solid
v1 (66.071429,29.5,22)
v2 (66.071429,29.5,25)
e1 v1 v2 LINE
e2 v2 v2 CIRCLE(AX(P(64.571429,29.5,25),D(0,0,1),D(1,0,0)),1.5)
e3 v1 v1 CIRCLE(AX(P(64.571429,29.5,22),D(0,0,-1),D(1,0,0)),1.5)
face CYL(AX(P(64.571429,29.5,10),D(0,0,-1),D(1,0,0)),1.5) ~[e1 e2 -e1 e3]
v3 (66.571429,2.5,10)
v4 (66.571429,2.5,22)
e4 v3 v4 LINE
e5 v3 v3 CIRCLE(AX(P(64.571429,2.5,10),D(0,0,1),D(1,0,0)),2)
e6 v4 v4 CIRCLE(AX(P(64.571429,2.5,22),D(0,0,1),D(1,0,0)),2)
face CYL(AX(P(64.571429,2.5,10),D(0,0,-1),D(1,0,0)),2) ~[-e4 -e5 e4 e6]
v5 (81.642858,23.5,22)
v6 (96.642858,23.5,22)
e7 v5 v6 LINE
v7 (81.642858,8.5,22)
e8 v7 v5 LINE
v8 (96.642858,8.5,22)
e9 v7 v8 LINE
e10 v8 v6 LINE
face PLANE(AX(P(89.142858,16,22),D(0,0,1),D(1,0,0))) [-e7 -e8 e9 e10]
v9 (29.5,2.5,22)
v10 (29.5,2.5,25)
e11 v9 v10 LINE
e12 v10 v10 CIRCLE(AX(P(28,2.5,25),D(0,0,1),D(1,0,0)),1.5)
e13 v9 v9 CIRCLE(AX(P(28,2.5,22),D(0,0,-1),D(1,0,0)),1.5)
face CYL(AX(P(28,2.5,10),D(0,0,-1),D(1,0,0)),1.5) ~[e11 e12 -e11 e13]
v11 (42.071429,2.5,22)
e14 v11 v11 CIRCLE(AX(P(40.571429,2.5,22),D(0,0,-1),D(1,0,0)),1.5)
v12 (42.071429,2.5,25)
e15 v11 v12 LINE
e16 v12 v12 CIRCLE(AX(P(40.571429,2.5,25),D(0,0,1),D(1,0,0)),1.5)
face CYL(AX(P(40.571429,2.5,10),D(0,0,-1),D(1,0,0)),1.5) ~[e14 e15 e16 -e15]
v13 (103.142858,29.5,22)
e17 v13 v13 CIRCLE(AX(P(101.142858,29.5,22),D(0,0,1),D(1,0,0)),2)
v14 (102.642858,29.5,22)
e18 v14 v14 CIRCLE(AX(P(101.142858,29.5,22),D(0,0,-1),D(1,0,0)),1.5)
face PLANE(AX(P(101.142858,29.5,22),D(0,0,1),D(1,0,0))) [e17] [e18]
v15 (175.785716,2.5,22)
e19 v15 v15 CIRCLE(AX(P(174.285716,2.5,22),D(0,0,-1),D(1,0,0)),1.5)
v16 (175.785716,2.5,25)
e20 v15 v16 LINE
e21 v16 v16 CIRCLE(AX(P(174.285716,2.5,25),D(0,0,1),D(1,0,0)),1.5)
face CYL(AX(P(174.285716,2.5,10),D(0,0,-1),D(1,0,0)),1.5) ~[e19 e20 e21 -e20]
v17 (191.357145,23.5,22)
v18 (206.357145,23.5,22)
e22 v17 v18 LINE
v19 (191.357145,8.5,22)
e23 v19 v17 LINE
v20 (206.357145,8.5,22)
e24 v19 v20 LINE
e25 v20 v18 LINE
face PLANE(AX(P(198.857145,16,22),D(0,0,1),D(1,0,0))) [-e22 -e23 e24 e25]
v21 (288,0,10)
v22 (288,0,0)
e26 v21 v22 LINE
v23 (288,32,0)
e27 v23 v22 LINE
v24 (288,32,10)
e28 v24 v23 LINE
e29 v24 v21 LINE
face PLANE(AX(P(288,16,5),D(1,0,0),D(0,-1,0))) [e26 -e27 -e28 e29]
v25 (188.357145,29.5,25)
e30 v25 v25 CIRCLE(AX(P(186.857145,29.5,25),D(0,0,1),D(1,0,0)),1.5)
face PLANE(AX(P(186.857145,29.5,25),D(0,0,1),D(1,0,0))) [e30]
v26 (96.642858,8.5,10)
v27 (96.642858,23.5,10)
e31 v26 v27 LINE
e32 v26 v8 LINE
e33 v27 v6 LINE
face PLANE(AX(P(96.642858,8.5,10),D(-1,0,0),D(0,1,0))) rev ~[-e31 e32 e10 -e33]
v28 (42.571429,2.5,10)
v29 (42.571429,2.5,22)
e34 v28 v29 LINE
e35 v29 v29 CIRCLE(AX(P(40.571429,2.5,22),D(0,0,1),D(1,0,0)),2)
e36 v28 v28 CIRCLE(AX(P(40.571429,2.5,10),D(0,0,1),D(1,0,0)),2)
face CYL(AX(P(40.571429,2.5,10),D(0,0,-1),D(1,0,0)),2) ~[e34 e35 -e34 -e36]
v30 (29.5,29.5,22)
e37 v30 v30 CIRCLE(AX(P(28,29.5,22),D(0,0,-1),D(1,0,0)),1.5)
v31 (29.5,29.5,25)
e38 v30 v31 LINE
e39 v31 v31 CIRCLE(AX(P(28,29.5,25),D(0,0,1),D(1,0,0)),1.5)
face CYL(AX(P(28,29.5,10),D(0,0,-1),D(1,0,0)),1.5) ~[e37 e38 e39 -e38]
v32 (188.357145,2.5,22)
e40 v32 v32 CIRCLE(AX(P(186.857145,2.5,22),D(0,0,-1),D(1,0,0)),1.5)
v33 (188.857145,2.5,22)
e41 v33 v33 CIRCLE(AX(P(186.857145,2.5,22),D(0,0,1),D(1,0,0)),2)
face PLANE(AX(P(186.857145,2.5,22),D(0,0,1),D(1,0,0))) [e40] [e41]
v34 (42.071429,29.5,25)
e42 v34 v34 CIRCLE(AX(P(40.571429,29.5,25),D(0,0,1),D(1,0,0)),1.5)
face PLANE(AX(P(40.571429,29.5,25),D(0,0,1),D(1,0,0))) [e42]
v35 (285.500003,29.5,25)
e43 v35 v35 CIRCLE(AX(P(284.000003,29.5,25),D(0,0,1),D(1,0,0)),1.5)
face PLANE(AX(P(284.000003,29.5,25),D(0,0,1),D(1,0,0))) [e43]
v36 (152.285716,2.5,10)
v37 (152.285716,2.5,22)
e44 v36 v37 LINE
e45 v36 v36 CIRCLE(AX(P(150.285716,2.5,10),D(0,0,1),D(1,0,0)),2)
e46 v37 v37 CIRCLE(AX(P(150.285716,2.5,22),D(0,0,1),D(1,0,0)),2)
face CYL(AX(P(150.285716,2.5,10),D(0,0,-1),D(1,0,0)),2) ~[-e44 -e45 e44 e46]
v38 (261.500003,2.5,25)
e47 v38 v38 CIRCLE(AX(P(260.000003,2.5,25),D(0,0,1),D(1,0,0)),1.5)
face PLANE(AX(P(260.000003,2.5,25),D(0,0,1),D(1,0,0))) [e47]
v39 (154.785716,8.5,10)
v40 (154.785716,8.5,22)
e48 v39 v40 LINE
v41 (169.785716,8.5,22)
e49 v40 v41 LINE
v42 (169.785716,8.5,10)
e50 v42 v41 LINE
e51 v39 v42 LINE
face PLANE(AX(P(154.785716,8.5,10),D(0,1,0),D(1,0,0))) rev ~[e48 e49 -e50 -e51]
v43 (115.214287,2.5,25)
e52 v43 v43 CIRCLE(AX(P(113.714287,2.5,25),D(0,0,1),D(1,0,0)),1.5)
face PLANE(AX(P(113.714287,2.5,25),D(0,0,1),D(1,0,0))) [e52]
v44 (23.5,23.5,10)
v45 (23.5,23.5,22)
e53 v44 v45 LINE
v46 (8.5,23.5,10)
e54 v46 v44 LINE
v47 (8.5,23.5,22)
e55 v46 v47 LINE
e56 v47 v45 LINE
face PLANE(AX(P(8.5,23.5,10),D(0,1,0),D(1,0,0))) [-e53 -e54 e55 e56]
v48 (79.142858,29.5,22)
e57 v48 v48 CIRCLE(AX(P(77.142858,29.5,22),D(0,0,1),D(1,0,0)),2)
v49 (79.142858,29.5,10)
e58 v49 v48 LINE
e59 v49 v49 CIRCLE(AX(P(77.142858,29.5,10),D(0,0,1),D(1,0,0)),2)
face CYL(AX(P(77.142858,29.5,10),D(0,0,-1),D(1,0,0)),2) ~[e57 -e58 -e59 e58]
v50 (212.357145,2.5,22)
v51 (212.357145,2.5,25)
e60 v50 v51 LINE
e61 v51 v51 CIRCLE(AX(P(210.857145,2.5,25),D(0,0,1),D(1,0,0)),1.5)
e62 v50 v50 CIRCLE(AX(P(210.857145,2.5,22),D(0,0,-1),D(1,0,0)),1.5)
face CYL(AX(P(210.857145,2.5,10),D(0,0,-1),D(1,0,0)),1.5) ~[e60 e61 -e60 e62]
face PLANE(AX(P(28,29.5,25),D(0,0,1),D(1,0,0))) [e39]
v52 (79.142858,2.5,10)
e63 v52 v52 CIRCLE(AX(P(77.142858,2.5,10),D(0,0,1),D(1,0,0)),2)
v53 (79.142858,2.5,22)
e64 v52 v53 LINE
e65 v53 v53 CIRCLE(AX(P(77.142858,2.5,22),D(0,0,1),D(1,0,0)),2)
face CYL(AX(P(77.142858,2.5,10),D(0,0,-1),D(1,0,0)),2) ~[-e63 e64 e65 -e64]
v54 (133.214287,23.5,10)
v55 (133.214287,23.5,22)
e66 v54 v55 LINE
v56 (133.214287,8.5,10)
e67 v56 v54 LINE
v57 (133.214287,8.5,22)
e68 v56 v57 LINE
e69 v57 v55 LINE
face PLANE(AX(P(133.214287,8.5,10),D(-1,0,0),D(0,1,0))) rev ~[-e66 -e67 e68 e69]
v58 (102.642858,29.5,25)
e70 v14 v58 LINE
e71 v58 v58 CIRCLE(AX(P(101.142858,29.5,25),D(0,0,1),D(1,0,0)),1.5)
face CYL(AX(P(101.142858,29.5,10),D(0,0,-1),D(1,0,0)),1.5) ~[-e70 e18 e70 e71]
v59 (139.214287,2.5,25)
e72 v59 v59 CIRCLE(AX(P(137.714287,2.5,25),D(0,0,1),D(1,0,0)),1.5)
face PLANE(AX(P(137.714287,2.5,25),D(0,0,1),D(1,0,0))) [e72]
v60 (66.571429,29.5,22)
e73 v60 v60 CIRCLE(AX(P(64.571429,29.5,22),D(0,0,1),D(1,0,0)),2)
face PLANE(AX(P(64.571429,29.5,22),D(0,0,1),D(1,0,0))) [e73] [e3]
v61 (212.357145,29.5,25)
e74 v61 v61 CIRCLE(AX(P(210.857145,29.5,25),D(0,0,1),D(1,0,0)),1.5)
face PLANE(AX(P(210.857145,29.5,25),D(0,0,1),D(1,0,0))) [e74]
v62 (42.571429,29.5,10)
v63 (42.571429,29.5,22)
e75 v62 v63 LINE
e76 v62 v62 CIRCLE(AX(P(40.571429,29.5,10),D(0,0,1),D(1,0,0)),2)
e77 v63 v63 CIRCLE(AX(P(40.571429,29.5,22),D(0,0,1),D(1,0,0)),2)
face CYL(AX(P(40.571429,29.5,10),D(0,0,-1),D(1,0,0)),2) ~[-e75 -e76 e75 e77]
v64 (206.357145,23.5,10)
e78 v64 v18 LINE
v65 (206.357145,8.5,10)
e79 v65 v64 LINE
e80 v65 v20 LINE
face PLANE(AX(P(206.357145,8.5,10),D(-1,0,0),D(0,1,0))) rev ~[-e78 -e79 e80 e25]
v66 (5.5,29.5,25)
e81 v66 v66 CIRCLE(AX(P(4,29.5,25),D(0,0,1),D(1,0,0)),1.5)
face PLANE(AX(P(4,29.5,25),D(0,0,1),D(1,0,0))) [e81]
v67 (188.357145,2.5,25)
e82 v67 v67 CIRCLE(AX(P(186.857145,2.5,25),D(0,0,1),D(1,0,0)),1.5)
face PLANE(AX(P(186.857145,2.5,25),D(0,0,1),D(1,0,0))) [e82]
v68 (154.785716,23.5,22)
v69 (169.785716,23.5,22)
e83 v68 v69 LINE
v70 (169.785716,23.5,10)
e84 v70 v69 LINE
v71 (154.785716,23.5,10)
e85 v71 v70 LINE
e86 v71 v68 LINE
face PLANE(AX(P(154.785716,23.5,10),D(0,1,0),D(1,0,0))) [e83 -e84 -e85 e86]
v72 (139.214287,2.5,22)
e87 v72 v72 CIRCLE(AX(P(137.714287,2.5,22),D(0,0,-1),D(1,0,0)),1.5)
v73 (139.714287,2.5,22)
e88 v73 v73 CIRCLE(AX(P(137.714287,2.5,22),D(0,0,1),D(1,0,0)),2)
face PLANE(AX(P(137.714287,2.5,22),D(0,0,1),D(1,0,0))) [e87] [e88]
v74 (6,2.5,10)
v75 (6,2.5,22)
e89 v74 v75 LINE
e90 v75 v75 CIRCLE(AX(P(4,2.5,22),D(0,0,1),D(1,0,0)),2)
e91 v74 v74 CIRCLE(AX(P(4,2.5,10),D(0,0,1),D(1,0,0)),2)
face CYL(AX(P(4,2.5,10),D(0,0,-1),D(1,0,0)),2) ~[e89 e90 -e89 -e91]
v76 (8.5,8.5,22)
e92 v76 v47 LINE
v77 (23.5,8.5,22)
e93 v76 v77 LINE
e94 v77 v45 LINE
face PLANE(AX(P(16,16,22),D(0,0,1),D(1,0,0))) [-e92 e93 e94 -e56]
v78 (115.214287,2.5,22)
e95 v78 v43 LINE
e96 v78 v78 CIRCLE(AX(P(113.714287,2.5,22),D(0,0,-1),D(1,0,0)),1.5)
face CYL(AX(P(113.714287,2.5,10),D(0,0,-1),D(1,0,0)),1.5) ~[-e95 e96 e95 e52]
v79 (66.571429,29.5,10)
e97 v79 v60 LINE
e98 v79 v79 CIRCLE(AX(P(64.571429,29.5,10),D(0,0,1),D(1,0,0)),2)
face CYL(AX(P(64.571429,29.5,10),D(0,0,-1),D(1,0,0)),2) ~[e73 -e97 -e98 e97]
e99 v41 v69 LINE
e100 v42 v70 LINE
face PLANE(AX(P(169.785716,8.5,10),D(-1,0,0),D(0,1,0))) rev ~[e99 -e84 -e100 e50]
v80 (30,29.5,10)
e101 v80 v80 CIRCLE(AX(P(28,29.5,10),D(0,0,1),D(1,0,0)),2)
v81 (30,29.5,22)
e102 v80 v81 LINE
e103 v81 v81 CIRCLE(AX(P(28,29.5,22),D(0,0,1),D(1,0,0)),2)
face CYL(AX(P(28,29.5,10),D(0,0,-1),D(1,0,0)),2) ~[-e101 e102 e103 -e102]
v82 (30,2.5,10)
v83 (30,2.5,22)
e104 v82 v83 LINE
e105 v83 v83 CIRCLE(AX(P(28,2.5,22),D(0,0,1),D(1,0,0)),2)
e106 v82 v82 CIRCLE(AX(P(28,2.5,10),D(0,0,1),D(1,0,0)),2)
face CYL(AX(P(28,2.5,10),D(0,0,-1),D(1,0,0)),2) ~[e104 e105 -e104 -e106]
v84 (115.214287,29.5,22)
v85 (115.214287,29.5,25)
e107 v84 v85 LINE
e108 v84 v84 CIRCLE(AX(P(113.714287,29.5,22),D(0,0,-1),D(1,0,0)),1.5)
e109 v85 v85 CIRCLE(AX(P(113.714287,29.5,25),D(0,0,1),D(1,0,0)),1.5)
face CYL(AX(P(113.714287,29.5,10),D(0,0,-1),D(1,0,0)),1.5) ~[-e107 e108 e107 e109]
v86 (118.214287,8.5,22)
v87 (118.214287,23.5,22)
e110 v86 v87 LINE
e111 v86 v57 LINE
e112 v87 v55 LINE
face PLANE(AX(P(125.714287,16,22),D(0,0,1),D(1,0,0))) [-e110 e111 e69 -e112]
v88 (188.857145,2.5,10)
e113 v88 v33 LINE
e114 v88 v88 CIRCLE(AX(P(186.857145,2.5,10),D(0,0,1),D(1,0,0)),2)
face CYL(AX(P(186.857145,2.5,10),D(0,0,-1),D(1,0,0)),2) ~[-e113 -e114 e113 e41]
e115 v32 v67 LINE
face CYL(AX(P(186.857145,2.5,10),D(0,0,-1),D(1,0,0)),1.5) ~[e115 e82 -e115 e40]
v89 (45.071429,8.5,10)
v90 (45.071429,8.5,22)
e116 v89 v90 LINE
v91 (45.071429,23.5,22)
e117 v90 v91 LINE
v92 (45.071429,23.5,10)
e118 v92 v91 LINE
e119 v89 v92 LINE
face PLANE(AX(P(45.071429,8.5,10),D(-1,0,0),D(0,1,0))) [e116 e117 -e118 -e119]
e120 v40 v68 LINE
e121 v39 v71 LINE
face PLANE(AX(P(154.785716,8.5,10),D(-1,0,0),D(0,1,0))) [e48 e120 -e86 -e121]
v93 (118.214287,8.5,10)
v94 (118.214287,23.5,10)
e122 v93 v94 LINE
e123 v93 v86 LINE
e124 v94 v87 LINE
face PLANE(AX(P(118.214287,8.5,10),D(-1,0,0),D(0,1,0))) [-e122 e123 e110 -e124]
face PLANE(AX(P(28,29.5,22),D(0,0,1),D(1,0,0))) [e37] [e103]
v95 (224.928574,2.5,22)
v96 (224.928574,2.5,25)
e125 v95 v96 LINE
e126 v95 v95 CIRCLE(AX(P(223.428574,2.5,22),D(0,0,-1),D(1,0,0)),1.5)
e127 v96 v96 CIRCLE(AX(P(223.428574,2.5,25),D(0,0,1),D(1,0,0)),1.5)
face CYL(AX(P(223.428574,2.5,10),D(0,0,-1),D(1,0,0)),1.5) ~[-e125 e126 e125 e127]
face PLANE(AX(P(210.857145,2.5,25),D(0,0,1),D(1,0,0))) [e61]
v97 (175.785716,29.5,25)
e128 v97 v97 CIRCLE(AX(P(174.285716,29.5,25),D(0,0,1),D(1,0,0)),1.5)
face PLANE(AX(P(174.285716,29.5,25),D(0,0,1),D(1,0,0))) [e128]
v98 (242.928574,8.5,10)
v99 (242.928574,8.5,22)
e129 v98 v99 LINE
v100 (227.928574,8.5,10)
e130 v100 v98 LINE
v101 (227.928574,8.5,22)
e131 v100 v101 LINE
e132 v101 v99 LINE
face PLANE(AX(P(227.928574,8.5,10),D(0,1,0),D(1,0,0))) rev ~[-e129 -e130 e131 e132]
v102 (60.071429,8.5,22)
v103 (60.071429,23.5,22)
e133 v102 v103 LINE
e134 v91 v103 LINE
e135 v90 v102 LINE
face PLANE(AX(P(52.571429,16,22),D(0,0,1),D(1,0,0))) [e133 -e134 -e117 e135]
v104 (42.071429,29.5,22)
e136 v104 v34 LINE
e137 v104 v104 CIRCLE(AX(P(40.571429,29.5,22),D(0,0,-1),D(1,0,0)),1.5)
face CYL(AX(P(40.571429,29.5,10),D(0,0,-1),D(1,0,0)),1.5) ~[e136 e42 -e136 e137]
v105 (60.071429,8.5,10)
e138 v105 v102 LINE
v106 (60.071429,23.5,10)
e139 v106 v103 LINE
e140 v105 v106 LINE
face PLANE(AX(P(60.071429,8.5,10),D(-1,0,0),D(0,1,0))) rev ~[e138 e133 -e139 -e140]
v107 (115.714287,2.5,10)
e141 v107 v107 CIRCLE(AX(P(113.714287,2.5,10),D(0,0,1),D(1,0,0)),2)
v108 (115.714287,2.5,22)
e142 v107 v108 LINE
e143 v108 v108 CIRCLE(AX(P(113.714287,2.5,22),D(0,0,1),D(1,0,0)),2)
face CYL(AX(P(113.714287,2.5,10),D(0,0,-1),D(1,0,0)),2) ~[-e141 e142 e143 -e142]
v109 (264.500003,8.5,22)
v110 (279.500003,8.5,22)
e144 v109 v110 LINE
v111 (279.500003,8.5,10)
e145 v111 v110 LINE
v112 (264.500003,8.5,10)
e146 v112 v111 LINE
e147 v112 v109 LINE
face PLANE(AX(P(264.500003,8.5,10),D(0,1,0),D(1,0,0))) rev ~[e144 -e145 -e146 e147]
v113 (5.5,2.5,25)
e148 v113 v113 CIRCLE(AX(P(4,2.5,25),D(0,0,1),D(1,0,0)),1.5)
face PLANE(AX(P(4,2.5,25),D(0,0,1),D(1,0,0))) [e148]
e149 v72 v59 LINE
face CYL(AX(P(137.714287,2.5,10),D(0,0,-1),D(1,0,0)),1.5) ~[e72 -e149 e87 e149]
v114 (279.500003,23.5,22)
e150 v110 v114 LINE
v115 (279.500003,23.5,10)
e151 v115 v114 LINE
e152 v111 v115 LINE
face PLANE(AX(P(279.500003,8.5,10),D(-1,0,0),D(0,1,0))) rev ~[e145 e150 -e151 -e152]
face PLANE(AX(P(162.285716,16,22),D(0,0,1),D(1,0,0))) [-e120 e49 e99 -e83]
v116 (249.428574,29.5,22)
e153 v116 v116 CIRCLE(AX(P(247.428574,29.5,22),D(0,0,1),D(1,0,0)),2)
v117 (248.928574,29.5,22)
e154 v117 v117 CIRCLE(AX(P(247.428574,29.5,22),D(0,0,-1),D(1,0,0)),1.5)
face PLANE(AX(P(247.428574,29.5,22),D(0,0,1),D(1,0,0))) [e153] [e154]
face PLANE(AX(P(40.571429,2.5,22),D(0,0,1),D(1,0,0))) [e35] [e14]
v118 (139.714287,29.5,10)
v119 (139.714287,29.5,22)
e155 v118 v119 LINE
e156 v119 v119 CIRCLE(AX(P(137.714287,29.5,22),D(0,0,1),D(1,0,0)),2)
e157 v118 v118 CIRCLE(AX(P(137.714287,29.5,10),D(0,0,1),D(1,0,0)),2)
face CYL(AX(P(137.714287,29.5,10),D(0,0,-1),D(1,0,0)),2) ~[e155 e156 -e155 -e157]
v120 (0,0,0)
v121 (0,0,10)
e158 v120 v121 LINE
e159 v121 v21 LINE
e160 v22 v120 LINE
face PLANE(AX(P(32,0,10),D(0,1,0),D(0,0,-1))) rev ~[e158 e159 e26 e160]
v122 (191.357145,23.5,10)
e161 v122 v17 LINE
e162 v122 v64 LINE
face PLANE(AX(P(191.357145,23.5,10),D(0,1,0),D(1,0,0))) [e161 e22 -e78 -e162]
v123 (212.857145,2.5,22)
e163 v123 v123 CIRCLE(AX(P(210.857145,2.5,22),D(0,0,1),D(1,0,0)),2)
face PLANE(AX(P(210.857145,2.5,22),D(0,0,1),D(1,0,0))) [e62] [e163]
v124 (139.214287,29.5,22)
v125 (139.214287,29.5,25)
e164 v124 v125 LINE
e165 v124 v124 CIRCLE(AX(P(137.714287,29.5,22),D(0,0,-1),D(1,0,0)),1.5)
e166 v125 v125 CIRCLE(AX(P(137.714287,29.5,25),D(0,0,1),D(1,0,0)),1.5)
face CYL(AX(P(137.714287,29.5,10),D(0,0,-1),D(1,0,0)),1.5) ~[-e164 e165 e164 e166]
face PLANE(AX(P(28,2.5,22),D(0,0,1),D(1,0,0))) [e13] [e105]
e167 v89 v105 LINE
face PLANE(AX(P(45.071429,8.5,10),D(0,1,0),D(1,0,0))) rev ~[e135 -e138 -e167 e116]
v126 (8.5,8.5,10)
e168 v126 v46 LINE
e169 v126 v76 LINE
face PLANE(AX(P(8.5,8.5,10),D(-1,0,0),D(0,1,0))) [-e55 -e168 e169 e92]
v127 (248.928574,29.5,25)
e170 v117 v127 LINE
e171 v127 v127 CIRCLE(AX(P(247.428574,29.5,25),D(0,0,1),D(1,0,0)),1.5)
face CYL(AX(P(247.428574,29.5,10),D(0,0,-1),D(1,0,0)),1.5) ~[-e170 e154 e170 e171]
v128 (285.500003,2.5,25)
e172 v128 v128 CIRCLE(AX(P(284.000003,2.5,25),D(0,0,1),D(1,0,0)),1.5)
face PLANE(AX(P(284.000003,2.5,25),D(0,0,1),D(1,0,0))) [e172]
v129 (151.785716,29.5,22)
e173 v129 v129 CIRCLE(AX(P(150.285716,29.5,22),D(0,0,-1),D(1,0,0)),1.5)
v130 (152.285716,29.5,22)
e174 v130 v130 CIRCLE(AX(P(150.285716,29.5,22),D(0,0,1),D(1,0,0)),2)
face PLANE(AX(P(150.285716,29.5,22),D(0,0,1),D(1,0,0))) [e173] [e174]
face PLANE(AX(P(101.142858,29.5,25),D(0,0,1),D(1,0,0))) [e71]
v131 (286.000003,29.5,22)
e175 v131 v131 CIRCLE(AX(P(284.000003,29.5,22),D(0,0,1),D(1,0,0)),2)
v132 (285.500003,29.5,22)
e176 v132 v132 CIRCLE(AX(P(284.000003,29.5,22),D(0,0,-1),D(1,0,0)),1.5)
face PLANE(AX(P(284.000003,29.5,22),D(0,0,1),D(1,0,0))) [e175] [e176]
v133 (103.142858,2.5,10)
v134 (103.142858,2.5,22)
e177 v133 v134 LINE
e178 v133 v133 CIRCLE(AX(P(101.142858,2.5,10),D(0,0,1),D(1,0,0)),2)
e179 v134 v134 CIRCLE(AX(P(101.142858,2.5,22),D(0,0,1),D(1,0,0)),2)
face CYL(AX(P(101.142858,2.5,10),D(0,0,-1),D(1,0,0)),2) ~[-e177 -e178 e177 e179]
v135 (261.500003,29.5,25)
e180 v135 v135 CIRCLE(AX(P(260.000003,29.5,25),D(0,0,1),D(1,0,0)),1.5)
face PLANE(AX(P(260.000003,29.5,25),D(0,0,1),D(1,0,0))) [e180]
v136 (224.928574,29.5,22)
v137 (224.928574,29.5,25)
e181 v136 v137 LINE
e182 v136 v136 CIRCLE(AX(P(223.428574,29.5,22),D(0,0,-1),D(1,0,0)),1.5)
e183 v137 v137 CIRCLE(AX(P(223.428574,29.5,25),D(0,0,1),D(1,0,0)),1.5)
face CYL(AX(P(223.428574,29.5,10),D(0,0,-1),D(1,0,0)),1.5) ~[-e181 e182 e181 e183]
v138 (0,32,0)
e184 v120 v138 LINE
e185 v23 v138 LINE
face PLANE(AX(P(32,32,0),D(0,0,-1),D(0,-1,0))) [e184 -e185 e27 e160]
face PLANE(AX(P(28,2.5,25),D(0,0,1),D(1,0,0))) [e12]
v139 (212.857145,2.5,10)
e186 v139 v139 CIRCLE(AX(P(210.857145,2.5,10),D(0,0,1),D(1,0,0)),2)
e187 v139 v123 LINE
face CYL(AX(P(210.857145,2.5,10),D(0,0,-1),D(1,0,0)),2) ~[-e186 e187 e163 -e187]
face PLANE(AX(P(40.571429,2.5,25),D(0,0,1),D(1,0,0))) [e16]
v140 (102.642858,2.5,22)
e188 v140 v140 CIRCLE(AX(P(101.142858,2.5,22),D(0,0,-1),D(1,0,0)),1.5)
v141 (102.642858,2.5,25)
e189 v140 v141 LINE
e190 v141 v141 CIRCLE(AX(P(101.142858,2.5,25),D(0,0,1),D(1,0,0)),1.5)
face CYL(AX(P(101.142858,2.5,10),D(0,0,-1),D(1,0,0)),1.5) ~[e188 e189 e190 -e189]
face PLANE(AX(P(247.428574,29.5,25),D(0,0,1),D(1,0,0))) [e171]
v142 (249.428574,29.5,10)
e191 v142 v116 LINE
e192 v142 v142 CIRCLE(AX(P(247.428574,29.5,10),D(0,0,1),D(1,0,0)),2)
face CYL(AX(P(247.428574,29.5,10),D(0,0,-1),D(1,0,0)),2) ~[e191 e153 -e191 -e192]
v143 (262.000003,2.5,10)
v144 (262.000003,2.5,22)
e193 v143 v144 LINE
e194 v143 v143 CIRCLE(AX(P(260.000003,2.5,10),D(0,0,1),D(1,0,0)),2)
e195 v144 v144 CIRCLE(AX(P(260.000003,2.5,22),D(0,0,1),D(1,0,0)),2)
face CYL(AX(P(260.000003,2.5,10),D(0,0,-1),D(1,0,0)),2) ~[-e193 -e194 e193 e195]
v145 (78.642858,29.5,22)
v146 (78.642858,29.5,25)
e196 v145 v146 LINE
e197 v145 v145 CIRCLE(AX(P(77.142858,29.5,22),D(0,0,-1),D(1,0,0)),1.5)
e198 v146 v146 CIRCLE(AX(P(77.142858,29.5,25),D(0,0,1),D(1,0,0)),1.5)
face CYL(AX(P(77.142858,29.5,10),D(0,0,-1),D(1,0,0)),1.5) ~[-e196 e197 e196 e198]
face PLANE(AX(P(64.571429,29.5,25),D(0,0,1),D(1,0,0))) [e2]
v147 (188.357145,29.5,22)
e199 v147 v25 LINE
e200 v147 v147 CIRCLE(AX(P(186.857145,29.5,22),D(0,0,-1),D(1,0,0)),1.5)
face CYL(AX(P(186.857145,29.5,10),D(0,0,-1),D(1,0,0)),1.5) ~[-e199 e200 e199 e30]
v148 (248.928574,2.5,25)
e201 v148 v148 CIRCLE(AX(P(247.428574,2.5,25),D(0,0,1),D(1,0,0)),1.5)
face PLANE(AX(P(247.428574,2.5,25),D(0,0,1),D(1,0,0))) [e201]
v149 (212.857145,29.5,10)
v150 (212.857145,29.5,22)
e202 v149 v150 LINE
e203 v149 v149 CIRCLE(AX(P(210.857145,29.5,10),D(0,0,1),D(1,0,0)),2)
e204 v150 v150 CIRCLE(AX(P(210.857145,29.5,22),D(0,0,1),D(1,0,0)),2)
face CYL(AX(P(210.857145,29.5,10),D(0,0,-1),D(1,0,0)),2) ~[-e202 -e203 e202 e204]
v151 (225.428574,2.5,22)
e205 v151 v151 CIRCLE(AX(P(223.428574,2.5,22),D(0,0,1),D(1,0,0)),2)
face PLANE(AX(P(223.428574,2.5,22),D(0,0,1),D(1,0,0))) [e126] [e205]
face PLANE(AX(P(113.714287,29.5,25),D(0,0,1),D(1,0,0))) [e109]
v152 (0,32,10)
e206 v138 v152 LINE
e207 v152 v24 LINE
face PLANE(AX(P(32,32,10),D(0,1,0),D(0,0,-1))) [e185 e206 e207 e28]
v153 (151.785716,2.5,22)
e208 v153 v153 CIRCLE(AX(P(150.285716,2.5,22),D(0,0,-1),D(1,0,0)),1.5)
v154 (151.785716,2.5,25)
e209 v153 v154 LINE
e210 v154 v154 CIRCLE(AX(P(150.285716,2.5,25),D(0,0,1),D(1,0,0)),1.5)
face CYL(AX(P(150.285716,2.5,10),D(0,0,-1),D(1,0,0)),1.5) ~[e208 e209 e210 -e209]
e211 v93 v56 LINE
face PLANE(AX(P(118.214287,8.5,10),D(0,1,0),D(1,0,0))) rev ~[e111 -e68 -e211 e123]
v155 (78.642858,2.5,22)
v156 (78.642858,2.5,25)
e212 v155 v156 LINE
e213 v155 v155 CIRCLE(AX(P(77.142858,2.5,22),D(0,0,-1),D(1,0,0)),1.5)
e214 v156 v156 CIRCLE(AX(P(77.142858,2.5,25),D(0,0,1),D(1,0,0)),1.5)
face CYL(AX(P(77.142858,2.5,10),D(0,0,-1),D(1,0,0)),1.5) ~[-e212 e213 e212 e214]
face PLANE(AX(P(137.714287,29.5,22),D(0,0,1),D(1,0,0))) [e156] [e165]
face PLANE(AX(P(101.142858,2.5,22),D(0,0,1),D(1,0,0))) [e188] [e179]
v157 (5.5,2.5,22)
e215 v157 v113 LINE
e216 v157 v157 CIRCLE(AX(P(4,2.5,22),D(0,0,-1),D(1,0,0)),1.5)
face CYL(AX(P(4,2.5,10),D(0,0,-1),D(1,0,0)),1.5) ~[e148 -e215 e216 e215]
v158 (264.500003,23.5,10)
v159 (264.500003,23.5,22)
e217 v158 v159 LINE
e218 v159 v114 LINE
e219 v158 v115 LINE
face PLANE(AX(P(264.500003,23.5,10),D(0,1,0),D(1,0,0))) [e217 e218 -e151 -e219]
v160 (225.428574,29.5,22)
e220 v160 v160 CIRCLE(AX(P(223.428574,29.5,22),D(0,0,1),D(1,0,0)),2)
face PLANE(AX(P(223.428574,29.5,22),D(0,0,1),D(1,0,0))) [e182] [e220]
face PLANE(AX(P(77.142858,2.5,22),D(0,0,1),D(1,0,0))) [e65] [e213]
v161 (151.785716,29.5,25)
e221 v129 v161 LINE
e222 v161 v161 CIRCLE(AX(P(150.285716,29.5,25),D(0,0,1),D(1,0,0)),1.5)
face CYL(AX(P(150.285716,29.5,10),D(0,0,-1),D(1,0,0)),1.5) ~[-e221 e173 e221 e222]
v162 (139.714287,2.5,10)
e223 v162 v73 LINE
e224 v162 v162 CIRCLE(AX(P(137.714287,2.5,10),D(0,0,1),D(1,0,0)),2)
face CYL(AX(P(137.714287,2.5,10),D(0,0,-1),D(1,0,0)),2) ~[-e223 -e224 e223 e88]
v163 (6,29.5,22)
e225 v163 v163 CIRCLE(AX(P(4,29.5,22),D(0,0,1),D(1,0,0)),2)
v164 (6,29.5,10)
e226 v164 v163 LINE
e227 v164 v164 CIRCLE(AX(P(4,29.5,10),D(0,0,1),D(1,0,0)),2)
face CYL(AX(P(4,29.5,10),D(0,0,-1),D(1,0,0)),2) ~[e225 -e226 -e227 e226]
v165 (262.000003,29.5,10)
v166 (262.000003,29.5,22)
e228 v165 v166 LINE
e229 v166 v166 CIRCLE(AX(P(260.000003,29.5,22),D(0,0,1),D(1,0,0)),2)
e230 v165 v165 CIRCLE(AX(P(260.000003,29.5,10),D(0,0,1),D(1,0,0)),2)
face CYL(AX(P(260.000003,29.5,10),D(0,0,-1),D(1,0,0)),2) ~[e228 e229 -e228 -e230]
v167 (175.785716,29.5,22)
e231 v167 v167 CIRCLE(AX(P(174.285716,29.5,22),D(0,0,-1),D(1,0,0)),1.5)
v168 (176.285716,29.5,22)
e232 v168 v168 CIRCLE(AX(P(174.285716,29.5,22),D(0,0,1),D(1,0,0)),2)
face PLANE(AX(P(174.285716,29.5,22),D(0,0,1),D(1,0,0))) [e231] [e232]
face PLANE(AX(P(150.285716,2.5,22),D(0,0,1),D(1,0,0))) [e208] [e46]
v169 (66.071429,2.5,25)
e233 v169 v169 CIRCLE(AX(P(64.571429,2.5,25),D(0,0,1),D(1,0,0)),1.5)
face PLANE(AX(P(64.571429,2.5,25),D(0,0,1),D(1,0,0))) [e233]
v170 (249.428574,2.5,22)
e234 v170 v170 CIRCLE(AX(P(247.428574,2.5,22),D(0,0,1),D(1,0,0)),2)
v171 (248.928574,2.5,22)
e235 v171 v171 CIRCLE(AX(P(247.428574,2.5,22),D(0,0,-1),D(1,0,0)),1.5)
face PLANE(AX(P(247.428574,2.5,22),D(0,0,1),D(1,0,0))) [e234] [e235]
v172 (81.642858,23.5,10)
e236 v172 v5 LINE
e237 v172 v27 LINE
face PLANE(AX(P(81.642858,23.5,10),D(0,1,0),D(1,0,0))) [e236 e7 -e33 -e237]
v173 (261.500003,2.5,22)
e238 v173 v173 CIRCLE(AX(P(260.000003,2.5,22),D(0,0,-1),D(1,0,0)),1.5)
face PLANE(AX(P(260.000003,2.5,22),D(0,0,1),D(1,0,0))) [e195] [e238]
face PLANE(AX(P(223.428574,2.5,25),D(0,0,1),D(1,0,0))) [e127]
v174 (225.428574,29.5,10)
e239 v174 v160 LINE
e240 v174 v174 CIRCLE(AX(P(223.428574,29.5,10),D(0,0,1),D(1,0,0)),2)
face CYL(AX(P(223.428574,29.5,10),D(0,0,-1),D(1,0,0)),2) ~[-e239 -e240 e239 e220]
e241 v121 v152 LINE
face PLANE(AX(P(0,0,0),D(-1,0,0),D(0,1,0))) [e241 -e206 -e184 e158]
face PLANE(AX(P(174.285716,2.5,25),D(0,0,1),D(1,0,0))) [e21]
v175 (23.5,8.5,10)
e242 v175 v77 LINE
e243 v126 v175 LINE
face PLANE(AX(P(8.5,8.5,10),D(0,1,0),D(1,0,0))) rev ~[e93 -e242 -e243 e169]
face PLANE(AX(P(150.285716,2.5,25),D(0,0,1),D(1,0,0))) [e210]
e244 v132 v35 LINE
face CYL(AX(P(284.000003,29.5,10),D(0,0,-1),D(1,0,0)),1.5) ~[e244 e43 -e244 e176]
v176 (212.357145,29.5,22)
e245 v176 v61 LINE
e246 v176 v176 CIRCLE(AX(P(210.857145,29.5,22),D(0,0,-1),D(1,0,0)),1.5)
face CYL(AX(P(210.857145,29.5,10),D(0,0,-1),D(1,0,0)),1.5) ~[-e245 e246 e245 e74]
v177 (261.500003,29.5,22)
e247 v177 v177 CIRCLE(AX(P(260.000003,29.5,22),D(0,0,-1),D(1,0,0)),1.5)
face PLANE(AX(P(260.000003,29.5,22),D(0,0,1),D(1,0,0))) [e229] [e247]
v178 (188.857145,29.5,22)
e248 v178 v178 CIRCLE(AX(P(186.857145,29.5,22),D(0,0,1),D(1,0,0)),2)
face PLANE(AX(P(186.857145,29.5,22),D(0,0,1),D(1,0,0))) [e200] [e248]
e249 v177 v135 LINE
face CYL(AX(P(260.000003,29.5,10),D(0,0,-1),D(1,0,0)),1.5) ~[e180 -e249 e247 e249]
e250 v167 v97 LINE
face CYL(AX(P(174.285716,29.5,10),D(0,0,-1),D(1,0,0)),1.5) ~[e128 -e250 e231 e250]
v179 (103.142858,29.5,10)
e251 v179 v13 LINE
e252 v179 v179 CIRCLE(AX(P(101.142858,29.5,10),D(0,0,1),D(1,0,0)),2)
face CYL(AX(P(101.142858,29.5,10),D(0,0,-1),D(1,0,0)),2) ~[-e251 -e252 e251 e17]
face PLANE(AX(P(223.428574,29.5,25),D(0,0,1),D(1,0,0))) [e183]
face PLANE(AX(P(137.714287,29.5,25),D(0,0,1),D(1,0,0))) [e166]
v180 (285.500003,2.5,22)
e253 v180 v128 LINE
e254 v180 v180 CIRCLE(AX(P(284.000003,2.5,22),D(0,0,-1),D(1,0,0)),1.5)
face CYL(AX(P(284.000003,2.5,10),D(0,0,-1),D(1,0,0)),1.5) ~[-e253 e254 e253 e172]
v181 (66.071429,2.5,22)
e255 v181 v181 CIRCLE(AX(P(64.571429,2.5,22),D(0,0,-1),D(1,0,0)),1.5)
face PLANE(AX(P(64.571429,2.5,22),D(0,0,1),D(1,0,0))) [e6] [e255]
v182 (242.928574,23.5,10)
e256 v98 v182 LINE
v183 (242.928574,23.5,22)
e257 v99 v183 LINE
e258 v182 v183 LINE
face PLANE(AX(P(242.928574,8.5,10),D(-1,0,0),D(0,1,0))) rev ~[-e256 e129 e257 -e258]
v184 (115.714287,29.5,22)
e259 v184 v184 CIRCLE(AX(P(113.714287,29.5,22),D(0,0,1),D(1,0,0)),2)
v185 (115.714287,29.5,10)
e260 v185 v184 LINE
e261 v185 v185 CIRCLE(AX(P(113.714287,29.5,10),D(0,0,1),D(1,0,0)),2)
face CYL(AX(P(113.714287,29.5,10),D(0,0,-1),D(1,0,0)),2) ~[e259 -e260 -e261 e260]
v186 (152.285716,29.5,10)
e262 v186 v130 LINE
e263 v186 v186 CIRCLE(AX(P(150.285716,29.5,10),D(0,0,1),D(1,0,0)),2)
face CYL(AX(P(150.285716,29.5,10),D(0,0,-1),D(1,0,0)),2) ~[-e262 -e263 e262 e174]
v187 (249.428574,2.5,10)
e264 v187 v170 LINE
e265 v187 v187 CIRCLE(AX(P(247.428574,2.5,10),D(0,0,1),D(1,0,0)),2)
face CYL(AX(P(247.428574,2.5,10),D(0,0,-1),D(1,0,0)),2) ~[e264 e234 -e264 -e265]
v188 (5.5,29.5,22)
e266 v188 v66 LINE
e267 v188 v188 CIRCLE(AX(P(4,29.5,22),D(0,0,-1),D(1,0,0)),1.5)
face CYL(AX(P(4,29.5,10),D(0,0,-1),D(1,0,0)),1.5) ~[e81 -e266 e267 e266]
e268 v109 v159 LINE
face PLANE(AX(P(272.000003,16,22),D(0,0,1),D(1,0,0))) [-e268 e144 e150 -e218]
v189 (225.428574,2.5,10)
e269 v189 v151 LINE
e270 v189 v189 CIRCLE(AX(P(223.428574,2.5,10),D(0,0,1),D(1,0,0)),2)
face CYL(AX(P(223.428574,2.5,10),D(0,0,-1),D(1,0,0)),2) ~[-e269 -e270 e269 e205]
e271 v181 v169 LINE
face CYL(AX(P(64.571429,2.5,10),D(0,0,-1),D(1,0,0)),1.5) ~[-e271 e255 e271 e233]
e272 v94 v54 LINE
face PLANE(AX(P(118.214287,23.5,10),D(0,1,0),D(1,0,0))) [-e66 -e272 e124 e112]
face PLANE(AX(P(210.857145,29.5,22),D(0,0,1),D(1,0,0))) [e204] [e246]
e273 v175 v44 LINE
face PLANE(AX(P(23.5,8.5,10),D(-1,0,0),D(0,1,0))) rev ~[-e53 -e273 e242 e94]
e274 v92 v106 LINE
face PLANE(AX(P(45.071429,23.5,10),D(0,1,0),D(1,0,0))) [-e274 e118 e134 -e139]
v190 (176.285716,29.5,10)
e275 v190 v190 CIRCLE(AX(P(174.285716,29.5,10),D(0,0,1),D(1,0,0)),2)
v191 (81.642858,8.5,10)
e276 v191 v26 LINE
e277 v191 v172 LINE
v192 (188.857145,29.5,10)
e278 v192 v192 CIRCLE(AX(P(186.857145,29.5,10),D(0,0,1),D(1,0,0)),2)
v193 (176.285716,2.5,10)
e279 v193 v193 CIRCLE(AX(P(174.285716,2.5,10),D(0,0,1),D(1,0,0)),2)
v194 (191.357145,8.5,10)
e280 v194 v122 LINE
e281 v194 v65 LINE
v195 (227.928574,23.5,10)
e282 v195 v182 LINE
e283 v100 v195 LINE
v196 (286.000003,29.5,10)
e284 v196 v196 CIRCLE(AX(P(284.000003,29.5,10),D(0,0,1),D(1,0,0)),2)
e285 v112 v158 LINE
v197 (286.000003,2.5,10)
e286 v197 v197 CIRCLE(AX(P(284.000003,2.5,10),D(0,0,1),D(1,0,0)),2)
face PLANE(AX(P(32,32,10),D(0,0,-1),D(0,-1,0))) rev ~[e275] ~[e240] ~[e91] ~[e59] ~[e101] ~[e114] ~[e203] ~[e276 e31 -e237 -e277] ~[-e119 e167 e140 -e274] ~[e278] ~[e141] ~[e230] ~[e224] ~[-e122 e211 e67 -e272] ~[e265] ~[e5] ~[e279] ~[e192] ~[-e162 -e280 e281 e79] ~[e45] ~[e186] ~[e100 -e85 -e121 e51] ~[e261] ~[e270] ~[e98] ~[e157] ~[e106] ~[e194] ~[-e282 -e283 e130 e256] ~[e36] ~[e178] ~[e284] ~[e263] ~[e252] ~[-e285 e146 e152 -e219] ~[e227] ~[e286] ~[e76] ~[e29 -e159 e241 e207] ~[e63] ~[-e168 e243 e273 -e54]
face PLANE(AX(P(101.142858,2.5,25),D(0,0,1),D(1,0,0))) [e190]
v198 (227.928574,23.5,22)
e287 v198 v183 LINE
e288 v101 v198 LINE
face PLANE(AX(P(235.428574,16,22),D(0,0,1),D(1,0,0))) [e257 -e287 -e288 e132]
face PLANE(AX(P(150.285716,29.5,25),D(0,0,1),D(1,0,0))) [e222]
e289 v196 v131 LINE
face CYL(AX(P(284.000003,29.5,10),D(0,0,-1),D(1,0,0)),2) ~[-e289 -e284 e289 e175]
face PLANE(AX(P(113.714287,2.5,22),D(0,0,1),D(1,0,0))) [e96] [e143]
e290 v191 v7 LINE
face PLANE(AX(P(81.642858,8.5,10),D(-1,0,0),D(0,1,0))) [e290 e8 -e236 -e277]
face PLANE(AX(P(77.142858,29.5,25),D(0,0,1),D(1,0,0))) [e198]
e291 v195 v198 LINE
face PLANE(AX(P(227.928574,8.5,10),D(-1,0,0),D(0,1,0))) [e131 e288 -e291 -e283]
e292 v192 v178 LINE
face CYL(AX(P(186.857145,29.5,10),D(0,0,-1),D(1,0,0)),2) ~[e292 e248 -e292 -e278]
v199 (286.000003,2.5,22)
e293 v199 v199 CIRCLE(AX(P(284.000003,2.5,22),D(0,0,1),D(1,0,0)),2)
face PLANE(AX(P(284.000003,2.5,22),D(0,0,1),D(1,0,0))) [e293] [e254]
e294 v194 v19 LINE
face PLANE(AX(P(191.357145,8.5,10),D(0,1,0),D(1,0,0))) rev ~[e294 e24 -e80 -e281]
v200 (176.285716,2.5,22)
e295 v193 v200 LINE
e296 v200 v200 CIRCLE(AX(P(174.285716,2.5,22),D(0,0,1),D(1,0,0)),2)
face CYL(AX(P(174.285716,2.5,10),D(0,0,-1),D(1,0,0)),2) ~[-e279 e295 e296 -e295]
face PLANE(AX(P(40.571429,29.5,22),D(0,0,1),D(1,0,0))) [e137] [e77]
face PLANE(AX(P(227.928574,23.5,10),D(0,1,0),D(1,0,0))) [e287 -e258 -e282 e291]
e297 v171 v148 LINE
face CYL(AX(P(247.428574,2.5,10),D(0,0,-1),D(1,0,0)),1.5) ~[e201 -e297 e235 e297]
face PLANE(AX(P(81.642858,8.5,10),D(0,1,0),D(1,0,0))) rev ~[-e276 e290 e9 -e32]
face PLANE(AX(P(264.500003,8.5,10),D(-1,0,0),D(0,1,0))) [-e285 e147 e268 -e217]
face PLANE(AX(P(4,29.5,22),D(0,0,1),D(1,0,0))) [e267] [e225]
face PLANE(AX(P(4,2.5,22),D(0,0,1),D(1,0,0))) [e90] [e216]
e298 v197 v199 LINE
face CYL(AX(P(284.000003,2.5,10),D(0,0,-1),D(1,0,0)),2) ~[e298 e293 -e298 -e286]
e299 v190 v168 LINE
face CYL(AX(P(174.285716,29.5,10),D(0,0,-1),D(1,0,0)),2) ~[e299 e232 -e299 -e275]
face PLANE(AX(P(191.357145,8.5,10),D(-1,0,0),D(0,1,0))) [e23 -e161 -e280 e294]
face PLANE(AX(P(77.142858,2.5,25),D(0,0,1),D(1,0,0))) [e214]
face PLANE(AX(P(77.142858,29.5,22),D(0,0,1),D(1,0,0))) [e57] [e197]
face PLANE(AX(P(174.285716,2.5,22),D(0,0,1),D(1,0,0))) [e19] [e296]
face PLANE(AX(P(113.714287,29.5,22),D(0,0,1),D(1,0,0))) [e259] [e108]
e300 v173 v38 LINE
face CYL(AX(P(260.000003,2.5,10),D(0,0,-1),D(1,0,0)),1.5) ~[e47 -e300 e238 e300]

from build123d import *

# Parameters (mm, degrees)
SKETCH_W               = 32
SKETCH_H               = 32
PAD_DEPTH              = 10
SKETCH001_R            = 1.5
PAD001_DEPTH           = 15
SKETCH002_R            = 2
SKETCH002_W            = 15
SKETCH002_H            = 15
PAD002_DEPTH           = 12
PAD002_FACE3_W         = 32
PAD002_FACE3_H         = 10
PAD003_DEPTH           = 256
LINEARPATTERN_COUNT    = 8
LINEARPATTERN_PITCH    = 36.571429
LINEARPATTERN001_COUNT = 8
LINEARPATTERN001_PITCH = 36.571429


with BuildPart() as part:
    # Sketch → Pad (new body)
    with BuildSketch(Plane.XY):
        with Locations((16, 16)):
            Rectangle(SKETCH_W, SKETCH_H)
    extrude(amount=PAD_DEPTH)

    # Sketch001 (on Face6 of Pad) → Pad001 (join)
    with BuildSketch(Plane.XY.offset(10)):
        with Locations((4, 29.5)):
            Circle(SKETCH001_R)
        with Locations((28, 29.5)):
            Circle(SKETCH001_R)
        with Locations((4, 2.5)):
            Circle(SKETCH001_R)
        with Locations((28, 2.5)):
            Circle(SKETCH001_R)
    pad001 = extrude(amount=PAD001_DEPTH)

    # Sketch002 (on Face5 of Pad001) → Pad002 (join)
    with BuildSketch(Plane.XY.offset(10)):
        with Locations((4, 2.5)):
            Circle(SKETCH002_R)
        with Locations((28, 2.5)):
            Circle(SKETCH002_R)
        with Locations((4, 29.5)):
            Circle(SKETCH002_R)
        with Locations((28, 29.5)):
            Circle(SKETCH002_R)
        with Locations((16, 16)):
            Rectangle(SKETCH002_W, SKETCH002_H)
    pad002 = extrude(amount=PAD002_DEPTH)

    # Pad002 Face3 → Pad003 (add)
    with BuildSketch(Plane(origin=(32, 16, 5), x_dir=(0, -1, 0), z_dir=(1, 0, 0))):
        Rectangle(PAD002_FACE3_W, PAD002_FACE3_H)
    extrude(amount=PAD003_DEPTH)

    # LinearPattern: Pad002 ×8
    with Locations(*[(i * LINEARPATTERN_PITCH, 0, 0) for i in range(1, LINEARPATTERN_COUNT)]):
        add(pad002)

    # LinearPattern001: Pad001 ×8
    with Locations(*[(i * LINEARPATTERN001_PITCH, 0, 0) for i in range(1, LINEARPATTERN001_COUNT)]):
        add(pad001)


solid = part.part
